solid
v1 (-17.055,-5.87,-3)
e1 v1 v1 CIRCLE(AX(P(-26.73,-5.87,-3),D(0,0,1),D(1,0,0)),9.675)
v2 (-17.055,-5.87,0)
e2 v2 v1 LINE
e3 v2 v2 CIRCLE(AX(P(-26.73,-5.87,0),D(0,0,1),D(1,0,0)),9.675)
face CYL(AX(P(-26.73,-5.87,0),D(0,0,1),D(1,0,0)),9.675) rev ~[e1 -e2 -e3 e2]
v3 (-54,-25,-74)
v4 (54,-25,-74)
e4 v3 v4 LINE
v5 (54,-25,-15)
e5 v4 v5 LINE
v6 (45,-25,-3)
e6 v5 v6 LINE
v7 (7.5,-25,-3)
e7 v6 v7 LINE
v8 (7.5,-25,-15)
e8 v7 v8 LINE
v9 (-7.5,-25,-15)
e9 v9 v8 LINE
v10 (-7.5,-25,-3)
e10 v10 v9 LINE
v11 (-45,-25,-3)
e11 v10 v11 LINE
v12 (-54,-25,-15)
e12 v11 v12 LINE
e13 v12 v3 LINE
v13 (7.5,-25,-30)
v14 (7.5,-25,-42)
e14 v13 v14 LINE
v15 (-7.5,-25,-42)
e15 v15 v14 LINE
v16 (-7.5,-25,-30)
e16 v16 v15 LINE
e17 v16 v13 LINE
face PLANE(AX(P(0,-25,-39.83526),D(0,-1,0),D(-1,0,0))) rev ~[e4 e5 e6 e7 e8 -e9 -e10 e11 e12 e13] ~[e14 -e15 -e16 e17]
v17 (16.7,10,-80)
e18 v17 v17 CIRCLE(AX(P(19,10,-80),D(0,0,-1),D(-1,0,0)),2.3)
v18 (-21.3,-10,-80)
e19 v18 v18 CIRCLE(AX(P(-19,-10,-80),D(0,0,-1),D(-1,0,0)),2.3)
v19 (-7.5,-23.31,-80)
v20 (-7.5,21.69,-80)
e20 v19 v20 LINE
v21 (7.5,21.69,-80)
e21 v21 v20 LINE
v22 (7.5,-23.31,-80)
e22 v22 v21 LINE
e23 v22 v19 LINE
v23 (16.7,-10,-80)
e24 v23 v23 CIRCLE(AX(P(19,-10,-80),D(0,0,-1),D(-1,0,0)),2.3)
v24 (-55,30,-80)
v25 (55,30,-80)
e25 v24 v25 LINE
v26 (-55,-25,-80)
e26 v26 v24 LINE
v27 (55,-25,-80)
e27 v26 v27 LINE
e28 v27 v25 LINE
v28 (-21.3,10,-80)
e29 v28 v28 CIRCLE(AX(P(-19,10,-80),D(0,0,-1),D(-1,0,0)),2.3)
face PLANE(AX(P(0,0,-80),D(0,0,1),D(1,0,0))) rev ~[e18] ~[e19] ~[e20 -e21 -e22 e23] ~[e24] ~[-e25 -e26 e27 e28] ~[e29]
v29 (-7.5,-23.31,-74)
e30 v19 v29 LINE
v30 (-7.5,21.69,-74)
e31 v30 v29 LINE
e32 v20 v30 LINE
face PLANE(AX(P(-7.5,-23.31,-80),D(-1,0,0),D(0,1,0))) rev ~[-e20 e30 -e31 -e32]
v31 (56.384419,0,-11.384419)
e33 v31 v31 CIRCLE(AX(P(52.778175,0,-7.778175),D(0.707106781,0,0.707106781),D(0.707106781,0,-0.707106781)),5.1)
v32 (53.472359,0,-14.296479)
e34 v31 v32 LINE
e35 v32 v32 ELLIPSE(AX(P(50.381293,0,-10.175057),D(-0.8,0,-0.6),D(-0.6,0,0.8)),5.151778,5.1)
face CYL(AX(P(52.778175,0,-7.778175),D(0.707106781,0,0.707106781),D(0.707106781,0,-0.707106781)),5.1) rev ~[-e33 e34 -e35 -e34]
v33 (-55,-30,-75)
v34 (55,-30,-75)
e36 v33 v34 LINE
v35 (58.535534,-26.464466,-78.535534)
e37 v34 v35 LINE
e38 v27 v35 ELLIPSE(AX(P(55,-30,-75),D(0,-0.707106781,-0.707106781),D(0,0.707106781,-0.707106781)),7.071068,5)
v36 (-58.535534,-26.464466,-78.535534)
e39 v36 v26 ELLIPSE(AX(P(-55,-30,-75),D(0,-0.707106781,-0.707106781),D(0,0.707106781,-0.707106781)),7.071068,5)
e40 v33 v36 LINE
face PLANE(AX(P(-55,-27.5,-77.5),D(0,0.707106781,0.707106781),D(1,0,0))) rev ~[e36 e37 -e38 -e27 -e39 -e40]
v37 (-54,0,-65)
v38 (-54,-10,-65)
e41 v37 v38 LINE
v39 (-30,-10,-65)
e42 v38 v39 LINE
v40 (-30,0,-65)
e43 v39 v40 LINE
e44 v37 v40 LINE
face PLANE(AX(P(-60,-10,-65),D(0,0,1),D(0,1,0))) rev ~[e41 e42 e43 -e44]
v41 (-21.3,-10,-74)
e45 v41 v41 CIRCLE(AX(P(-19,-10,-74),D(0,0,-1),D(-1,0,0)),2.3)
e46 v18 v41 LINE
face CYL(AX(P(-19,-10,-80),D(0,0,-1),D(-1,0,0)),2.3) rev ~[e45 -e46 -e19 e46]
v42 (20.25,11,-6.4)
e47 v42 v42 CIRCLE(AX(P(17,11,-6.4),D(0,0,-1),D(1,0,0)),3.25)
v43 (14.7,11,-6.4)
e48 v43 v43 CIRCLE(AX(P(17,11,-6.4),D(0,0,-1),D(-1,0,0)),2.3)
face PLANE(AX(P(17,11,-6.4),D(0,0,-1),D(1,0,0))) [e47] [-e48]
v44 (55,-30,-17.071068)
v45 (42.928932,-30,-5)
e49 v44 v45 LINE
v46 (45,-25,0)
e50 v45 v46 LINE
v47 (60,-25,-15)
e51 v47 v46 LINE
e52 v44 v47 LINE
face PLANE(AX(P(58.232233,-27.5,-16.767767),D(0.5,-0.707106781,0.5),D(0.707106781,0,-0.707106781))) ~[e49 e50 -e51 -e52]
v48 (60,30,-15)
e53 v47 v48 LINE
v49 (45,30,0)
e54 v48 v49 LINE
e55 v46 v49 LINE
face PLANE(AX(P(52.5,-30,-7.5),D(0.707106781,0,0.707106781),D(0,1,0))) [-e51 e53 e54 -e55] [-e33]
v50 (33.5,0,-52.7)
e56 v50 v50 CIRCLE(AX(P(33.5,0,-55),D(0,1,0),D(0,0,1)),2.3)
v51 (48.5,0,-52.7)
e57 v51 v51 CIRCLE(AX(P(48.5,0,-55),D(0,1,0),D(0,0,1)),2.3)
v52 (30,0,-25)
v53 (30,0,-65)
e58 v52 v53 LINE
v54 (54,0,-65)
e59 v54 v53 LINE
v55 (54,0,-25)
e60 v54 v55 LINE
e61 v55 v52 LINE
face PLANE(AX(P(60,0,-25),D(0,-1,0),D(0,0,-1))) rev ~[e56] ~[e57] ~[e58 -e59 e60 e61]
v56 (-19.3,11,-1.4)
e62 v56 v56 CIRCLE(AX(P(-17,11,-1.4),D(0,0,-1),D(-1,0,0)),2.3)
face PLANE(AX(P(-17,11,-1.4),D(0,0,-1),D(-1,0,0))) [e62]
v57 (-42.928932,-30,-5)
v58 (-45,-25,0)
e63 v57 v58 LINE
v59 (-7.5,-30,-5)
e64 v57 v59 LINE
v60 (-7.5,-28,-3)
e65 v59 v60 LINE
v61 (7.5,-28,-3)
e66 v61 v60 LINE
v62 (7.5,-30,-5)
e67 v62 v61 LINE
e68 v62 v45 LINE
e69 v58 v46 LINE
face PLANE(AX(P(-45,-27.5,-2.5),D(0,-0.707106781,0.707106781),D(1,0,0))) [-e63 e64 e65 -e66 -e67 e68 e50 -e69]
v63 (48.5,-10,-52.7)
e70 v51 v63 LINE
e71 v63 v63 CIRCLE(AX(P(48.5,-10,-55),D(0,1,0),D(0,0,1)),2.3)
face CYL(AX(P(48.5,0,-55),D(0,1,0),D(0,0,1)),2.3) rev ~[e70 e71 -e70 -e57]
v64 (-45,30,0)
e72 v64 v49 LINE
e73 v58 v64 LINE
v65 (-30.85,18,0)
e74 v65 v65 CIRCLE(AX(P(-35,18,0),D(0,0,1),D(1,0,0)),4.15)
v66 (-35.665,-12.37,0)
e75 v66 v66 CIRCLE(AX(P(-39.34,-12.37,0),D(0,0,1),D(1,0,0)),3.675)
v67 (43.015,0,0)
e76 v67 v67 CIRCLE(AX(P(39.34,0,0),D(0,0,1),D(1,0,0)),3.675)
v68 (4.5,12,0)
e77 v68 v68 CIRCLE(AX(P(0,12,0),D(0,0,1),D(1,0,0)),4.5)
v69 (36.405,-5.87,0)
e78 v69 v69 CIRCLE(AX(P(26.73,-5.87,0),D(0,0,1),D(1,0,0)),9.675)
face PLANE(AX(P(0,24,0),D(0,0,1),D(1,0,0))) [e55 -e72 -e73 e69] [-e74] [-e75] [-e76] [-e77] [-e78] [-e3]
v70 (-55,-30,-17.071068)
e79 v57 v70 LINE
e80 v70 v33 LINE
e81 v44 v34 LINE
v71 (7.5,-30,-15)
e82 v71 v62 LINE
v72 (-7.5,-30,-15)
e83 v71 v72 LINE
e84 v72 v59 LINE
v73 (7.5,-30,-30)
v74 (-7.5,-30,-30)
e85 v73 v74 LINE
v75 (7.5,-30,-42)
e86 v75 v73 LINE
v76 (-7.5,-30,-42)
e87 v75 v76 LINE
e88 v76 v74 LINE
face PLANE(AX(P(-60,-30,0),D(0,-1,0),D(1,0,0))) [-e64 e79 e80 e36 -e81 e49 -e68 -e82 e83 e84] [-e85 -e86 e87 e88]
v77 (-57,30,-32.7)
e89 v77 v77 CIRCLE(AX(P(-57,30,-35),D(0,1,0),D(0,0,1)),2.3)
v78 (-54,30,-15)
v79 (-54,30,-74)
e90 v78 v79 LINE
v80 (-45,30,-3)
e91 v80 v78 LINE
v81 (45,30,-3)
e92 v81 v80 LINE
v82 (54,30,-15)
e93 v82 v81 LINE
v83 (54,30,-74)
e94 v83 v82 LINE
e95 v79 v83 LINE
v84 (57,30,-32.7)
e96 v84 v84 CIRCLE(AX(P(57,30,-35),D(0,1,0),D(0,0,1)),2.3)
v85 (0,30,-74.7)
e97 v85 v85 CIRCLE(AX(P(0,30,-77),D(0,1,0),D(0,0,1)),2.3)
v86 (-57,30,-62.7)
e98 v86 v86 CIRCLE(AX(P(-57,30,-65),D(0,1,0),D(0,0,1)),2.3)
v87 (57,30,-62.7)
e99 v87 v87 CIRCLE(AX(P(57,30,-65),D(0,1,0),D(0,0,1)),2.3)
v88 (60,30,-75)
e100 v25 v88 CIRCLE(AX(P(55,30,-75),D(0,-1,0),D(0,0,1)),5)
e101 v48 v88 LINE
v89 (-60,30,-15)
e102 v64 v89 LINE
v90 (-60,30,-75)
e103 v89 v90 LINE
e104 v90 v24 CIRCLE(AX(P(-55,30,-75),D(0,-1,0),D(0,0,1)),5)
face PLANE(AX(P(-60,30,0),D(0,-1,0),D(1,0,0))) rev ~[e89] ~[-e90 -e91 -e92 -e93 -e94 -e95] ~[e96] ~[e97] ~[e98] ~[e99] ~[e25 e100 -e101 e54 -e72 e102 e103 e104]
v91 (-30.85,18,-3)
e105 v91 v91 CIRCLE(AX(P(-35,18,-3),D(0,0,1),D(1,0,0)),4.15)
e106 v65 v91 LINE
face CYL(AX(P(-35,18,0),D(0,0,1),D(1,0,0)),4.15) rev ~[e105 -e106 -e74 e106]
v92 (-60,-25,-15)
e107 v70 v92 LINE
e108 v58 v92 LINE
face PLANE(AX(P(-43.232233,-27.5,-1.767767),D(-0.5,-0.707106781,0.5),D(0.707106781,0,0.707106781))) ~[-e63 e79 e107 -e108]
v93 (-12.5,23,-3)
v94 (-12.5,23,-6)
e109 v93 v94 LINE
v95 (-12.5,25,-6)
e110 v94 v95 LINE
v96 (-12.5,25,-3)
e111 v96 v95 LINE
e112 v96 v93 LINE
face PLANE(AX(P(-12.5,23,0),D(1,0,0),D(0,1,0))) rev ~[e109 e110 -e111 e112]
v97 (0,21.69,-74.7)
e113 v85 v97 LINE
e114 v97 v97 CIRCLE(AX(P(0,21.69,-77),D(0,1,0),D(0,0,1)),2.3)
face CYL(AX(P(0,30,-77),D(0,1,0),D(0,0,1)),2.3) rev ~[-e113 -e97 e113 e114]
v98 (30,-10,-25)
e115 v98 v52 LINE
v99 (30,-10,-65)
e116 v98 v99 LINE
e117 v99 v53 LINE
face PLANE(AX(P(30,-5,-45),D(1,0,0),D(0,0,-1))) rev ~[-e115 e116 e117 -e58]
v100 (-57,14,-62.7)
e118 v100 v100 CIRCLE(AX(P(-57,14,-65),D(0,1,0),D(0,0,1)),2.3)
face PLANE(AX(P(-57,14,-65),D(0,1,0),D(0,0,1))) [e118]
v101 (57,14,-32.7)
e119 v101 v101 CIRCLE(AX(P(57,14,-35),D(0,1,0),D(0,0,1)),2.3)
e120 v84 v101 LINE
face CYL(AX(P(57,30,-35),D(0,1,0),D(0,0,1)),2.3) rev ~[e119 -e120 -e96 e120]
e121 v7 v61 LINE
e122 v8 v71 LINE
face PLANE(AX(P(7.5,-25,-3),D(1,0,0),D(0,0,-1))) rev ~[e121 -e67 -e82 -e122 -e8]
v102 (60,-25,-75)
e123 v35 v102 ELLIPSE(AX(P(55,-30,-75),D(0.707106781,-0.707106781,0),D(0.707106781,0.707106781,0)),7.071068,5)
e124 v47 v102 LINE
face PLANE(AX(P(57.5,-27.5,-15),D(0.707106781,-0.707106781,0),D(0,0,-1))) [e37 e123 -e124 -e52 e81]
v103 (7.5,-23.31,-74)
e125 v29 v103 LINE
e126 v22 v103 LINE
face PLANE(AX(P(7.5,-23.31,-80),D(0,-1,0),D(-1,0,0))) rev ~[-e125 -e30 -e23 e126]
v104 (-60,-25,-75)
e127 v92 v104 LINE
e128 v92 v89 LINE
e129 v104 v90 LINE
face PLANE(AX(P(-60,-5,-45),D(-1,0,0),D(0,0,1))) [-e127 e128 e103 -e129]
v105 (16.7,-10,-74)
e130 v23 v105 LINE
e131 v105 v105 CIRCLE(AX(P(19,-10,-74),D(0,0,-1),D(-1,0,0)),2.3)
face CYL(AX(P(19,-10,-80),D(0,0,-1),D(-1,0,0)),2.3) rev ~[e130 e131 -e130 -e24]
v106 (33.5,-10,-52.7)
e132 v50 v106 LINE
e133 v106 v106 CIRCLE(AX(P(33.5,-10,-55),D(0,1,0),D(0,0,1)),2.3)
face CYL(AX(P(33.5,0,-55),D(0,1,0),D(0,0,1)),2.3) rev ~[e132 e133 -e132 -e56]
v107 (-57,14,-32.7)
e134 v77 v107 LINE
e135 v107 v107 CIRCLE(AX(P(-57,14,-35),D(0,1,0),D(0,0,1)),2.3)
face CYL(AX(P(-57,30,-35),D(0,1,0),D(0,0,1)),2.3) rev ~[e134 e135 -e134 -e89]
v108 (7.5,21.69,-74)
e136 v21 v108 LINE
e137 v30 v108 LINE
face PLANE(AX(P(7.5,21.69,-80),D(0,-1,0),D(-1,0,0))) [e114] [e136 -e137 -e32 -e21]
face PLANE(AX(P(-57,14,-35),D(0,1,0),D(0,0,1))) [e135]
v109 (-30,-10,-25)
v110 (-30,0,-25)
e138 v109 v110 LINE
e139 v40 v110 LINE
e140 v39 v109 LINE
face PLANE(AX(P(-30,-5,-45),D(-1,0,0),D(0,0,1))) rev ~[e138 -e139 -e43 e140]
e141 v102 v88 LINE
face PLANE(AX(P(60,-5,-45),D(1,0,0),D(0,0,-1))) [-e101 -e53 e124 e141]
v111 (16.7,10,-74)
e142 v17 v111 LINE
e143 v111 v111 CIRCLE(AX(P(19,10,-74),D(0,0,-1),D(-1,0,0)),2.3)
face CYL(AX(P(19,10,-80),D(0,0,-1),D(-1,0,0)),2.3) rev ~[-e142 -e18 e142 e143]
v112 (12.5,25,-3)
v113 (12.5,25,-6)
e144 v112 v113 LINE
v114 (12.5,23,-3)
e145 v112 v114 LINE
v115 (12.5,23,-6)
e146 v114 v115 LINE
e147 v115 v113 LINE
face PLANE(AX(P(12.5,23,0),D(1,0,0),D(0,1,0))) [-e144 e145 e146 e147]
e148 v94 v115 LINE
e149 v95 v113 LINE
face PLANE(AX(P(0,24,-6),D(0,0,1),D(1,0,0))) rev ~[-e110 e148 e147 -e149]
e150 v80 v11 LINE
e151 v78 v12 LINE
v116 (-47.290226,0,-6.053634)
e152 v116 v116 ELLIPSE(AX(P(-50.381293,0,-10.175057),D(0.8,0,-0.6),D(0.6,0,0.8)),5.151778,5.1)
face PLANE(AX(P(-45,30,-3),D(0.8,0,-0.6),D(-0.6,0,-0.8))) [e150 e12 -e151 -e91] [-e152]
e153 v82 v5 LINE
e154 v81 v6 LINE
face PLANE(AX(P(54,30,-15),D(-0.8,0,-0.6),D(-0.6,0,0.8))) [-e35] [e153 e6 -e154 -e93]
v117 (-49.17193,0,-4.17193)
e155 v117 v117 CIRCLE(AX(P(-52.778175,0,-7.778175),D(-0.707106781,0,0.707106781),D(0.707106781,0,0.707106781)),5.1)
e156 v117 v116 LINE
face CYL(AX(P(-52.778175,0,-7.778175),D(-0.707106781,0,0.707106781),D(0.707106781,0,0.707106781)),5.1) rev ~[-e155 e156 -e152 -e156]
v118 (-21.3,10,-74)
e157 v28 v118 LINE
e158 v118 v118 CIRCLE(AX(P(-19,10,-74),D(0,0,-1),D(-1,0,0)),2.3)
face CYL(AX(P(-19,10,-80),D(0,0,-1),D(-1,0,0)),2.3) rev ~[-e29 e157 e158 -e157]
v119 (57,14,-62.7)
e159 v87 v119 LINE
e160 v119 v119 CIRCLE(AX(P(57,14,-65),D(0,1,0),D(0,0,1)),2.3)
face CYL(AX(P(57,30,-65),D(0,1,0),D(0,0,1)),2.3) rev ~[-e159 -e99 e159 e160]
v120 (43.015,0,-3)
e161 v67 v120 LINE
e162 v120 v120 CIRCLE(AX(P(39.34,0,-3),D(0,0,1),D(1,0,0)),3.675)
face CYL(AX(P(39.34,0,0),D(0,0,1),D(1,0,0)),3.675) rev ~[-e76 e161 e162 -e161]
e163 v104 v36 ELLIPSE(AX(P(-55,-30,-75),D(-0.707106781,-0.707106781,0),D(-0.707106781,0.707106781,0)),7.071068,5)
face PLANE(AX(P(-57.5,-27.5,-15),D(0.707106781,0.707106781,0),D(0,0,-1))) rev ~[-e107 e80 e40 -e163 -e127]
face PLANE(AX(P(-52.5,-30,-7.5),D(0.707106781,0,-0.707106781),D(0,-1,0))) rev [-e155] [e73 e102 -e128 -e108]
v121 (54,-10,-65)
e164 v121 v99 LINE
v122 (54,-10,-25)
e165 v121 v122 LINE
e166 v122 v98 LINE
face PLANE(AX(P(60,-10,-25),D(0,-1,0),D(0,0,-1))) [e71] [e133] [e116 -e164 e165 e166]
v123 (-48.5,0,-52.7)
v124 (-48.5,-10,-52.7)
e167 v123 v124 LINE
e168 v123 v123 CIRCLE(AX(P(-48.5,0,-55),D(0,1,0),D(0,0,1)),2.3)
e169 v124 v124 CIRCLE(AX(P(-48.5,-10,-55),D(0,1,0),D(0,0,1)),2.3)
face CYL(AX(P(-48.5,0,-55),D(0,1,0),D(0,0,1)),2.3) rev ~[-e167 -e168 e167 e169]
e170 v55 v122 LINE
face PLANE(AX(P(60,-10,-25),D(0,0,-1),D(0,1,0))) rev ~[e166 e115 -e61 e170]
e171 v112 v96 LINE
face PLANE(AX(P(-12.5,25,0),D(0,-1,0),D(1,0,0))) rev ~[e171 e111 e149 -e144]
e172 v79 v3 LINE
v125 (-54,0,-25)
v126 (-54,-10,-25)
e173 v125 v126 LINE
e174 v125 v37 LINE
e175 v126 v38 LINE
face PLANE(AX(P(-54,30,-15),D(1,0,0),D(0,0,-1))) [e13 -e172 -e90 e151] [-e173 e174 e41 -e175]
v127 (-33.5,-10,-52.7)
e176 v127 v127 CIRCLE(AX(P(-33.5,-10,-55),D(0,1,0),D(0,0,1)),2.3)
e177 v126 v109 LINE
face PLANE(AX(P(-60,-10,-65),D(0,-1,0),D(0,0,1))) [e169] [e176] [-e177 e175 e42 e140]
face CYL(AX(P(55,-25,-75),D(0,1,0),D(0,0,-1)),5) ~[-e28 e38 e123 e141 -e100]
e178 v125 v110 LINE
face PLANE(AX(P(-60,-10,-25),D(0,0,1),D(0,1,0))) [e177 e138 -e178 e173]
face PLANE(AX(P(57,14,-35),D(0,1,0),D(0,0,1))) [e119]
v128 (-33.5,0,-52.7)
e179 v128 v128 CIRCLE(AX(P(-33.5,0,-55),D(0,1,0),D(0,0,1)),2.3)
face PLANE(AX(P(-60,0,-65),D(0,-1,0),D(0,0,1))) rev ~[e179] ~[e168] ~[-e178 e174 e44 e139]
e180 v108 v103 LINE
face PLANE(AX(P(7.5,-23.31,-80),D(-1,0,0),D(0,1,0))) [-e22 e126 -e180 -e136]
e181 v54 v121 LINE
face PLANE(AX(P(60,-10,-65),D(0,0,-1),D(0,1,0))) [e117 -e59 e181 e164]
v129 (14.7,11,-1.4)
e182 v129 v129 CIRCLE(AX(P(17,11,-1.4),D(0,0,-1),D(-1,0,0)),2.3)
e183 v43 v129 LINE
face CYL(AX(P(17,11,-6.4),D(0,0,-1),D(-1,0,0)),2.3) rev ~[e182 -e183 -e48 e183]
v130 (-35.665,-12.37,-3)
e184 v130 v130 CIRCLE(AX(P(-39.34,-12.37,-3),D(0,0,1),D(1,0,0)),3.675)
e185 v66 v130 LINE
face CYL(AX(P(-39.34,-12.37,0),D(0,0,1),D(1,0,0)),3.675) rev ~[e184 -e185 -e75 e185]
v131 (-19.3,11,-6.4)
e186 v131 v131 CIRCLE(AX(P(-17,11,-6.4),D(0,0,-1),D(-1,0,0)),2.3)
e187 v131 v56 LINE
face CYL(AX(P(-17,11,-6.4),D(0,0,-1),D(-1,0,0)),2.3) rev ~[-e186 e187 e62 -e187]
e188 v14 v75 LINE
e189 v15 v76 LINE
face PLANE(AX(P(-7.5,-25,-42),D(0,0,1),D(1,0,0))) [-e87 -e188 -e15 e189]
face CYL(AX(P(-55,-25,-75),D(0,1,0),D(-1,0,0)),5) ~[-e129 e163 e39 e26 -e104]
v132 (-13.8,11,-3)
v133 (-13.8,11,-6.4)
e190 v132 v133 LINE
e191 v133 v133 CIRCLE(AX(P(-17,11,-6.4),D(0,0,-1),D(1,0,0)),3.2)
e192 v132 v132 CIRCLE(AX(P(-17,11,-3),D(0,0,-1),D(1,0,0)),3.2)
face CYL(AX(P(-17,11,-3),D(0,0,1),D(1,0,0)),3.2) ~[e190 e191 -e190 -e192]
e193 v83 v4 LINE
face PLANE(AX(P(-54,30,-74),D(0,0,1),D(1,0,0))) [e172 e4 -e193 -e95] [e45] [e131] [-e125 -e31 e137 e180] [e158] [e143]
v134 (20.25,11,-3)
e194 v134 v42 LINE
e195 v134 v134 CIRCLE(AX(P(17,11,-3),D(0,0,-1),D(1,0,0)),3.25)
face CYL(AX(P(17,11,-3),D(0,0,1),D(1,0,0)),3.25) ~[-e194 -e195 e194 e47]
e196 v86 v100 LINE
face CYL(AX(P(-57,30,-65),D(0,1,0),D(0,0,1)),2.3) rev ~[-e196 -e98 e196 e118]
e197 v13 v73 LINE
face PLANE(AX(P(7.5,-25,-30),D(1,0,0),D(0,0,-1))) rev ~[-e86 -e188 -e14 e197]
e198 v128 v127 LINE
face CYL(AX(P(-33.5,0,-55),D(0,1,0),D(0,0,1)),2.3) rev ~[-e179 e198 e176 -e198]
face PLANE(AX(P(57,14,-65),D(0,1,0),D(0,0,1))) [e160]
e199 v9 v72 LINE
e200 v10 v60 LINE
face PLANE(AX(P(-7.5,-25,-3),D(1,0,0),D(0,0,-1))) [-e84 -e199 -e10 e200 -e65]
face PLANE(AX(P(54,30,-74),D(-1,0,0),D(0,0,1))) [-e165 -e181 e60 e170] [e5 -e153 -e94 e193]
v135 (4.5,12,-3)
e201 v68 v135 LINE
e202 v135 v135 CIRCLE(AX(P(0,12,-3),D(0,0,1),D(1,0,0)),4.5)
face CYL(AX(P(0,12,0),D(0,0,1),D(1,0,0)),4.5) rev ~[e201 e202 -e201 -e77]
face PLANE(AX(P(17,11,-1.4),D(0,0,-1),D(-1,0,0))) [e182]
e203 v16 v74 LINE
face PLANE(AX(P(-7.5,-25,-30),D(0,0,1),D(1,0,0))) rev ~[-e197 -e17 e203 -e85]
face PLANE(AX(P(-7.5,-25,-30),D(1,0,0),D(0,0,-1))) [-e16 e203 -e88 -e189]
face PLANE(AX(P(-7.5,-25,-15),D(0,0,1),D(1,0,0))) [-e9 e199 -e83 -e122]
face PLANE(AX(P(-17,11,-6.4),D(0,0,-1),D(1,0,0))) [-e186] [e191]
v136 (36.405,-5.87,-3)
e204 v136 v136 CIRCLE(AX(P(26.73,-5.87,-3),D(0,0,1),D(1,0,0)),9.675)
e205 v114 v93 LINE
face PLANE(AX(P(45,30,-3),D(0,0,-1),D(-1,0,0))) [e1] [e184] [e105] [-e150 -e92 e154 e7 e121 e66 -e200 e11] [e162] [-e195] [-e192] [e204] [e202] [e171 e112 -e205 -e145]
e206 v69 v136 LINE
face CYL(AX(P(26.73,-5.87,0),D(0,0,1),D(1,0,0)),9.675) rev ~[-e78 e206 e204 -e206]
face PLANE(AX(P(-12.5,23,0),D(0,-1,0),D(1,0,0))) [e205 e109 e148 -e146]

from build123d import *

# Parameters (mm, degrees)
ESQUISSE1_W              = 120
ESQUISSE1_H              = 60
BOSS_EXTRU_1_DEPTH       = 80
CHANFREIN1_SIZE          = 15
CHANFREIN2_SIZE          = 15
ENL_V_MAT_EXTRU_1_DEPTH  = 55
ESQUISSE3_R              = 4.5
ESQUISSE3_R_2            = 4.15
ESQUISSE3_R_3            = 9.675
ESQUISSE3_R_4            = 3.675
ENL_V_MAT_EXTRU_2_DEPTH  = 10
ESQUISSE4_R              = 5.1
ENL_V_MAT_EXTRU_3_DEPTH  = 10
ESQUISSE5_R              = 5.1
ENL_V_MAT_EXTRU_4_DEPTH  = 10
CHANFREIN3_SIZE          = 5
ESQUISSE7_W              = 15
ESQUISSE7_H              = 45
ENL_V_MAT_EXTRU_5_DEPTH  = 15
CHANFREIN5_SIZE          = 5
ESQUISSE8_W              = 25
ESQUISSE8_H              = 2
BOSS_EXTRU_2_DEPTH       = 6
ESQUISSE10_W             = 40
ESQUISSE10_H             = 10
BOSS_EXTRU_4_DEPTH       = 30
ESQUISSE11_W             = 40
ESQUISSE11_H             = 10
BOSS_EXTRU_5_DEPTH       = 30
ESQUISSE12_R             = 2.3
ENL_V_MAT_EXTRU_7_DEPTH  = 15
ESQUISSE13_R             = 2.3
ENL_V_MAT_EXTRU_8_DEPTH  = 16
ESQUISSE14_R             = 2.3
ENL_V_MAT_EXTRU_9_DEPTH  = 10
ESQUISSE15_R             = 3.2
ESQUISSE15_R_2           = 3.25
BOSS_EXTRU_6_DEPTH       = 3.4
ESQUISSE16_R             = 2.3
ENL_V_MAT_EXTRU_10_DEPTH = 5
ESQUISSE18_W             = 15
ESQUISSE18_H             = 12
ENL_V_MAT_EXTRU_13_DEPTH = 9
CONG_1_R                 = 5


with BuildPart() as part:
    # Esquisse1 → Boss.-Extru.1 (new body)
    with BuildSketch(Plane.XY):
        Rectangle(ESQUISSE1_W, ESQUISSE1_H)
    extrude(amount=-BOSS_EXTRU_1_DEPTH)

    # Chanfrein1
    chanfrein1_edges = [part.edges().sort_by_distance(p)[0] for p in [
        (60, 0, 0),
    ]]
    chamfer(chanfrein1_edges, length=CHANFREIN1_SIZE)

    # Chanfrein2
    chanfrein2_edges = [part.edges().sort_by_distance(p)[0] for p in [
        (-60, 0, 0),
    ]]
    chamfer(chanfrein2_edges, length=CHANFREIN2_SIZE)

    # Esquisse2 → Enlèv. mat.-Extru.1 (cut)
    with BuildSketch(Plane(origin=(0, 30, 0), x_dir=(1, 0, 0), z_dir=(0, 1, 0))):
        Polygon((-54, 15), (-54, 74), (54, 74), (54, 15), (45, 3), (-45, 3), align=None)
    extrude(amount=-ENL_V_MAT_EXTRU_1_DEPTH, mode=Mode.SUBTRACT)

    # Esquisse3 → Enlèv. mat.-Extru.2 (cut)
    with BuildSketch(Plane.XY):
        with Locations((0, 12)):
            Circle(ESQUISSE3_R)
        with Locations((-35, 18)):
            Circle(ESQUISSE3_R_2)
        with Locations((26.73, -5.87)):
            Circle(ESQUISSE3_R_3)
        with Locations((-26.73, -5.87)):
            Circle(ESQUISSE3_R_3)
        with Locations((39.34, 0)):
            Circle(ESQUISSE3_R_4)
        with Locations((-39.34, -12.37)):
            Circle(ESQUISSE3_R_4)
    extrude(amount=-ENL_V_MAT_EXTRU_2_DEPTH, mode=Mode.SUBTRACT)

    # Esquisse4 → Enlèv. mat.-Extru.3 (cut)
    with BuildSketch(Plane(origin=(22.5, 0, 22.5), x_dir=(0.7071067811865464, 0, -0.7071067811865488), z_dir=(0.7071067811865488, 0, 0.7071067811865464))):
        with Locations((42.819805153, 0)):
            Circle(ESQUISSE4_R)
    extrude(amount=-ENL_V_MAT_EXTRU_3_DEPTH, mode=Mode.SUBTRACT)

    # Esquisse5 → Enlèv. mat.-Extru.4 (cut)
    with BuildSketch(Plane(origin=(-22.5, 0, 22.5), x_dir=(0.7071067811865464, 0, 0.7071067811865488), z_dir=(-0.7071067811865488, 0, 0.7071067811865464))):
        with Locations((-42.819805153, 0)):
            Circle(ESQUISSE5_R)
    extrude(amount=-ENL_V_MAT_EXTRU_4_DEPTH, mode=Mode.SUBTRACT)

    # Chanfrein3
    chanfrein3_edges = [part.edges().sort_by_distance(p)[0] for p in [
        (52.5, -30, -7.5),
        (0, -30, 0),
        (-52.5, -30, -7.5),
        (60, -30, -47.5),
        (-60, -30, -47.5),
    ]]
    chamfer(chanfrein3_edges, length=CHANFREIN3_SIZE)

    # Esquisse7 → Enlèv. mat.-Extru.5 (cut)
    with BuildSketch(Plane(origin=(0, 0, -80), x_dir=(-1, 0, 0), z_dir=(0, 0, -1))):
        with Locations((0, -0.81)):
            Rectangle(ESQUISSE7_W, ESQUISSE7_H)
    extrude(amount=-ENL_V_MAT_EXTRU_5_DEPTH, mode=Mode.SUBTRACT)

    # Chanfrein5
    chanfrein5_edges = [part.edges().sort_by_distance(p)[0] for p in [
        (0, -30, -80),
    ]]
    chamfer(chanfrein5_edges, length=CHANFREIN5_SIZE)

    # Esquisse8 → Boss.-Extru.2 (add)
    with BuildSketch(Plane.XY):
        with Locations((0, 24)):
            Rectangle(ESQUISSE8_W, ESQUISSE8_H)
    extrude(amount=-BOSS_EXTRU_2_DEPTH)

    # Esquisse10 → Boss.-Extru.4 (add)
    with BuildSketch(Plane(origin=(60, 0, 0), x_dir=(0, 0, -1), z_dir=(1, 0, 0))):
        with Locations((45, -5)):
            Rectangle(ESQUISSE10_W, ESQUISSE10_H)
    extrude(amount=-BOSS_EXTRU_4_DEPTH)

    # Esquisse11 → Boss.-Extru.5 (add)
    with BuildSketch(Plane.ZY.offset(60)):
        with Locations((-45, -5)):
            Rectangle(ESQUISSE11_W, ESQUISSE11_H)
    extrude(amount=-BOSS_EXTRU_5_DEPTH)

    # Esquisse12 → Enlèv. mat.-Extru.7 (cut)
    with BuildSketch(Plane(origin=(0, 0, 0), x_dir=(1, 0, 0), z_dir=(0, 1, 0))):
        with Locations(Location((33.5, 55, 0), (0, 0, 270))):
            Circle(ESQUISSE12_R)
        with Locations(Location((48.5, 55, 0), (0, 0, 270))):
            Circle(ESQUISSE12_R)
        with Locations(Location((-33.5, 55, 0), (0, 0, 270))):
            Circle(ESQUISSE12_R)
        with Locations(Location((-48.5, 55, 0), (0, 0, 270))):
            Circle(ESQUISSE12_R)
    extrude(amount=-ENL_V_MAT_EXTRU_7_DEPTH, mode=Mode.SUBTRACT)

    # Esquisse13 → Enlèv. mat.-Extru.8 (cut)
    with BuildSketch(Plane(origin=(0, 30, 0), x_dir=(1, 0, 0), z_dir=(0, 1, 0))):
        with Locations(Location((-57, 65, 0), (0, 0, 270))):
            Circle(ESQUISSE13_R)
        with Locations(Location((-57, 35, 0), (0, 0, 270))):
            Circle(ESQUISSE13_R)
        with Locations(Location((57, 65, 0), (0, 0, 270))):
            Circle(ESQUISSE13_R)
        with Locations(Location((57, 35, 0), (0, 0, 270))):
            Circle(ESQUISSE13_R)
        with Locations(Location((0, 77, 0), (0, 0, 270))):
            Circle(ESQUISSE13_R)
    extrude(amount=-ENL_V_MAT_EXTRU_8_DEPTH, mode=Mode.SUBTRACT)

    # Esquisse14 → Enlèv. mat.-Extru.9 (cut)
    with BuildSketch(Plane(origin=(0, 0, -80), x_dir=(-1, 0, 0), z_dir=(0, 0, -1))):
        with Locations((19, 10)):
            Circle(ESQUISSE14_R)
        with Locations((19, -10)):
            Circle(ESQUISSE14_R)
        with Locations((-19, -10)):
            Circle(ESQUISSE14_R)
        with Locations((-19, 10)):
            Circle(ESQUISSE14_R)
    extrude(amount=-ENL_V_MAT_EXTRU_9_DEPTH, mode=Mode.SUBTRACT)

    # Esquisse15 → Boss.-Extru.6 (add)
    with BuildSketch(Plane(origin=(0, 0, -3), x_dir=(-1, 0, 0), z_dir=(0, 0, -1))):
        with Locations(Location((17, 11, 0), (0, 0, 180))):
            Circle(ESQUISSE15_R)
        with Locations(Location((-17, 11, 0), (0, 0, 180))):
            Circle(ESQUISSE15_R_2)
    extrude(amount=BOSS_EXTRU_6_DEPTH)

    # Esquisse16 → Enlèv. mat.-Extru.10 (cut)
    with BuildSketch(Plane(origin=(0, 0, -6.4), x_dir=(-1, 0, 0), z_dir=(0, 0, -1))):
        with Locations((17, 11)):
            Circle(ESQUISSE16_R)
        with Locations((-17, 11)):
            Circle(ESQUISSE16_R)
    extrude(amount=-ENL_V_MAT_EXTRU_10_DEPTH, mode=Mode.SUBTRACT)

    # Esquisse18 → Enlèv. mat.-Extru.13 (cut)
    with BuildSketch(Plane(origin=(0, -25, 0), x_dir=(1, 0, 0), z_dir=(0, 1, 0))):
        with Locations((0, 9)):
            Rectangle(ESQUISSE18_W, ESQUISSE18_H)
        with Locations((0, 36)):
            Rectangle(ESQUISSE18_W, ESQUISSE18_H)
    extrude(amount=-ENL_V_MAT_EXTRU_13_DEPTH, mode=Mode.SUBTRACT)

    # Congé1
    cong_1_edges = [part.edges().sort_by_distance(p)[0] for p in [
        (-60, 2.5, -80),
        (60, 2.5, -80),
    ]]
    fillet(cong_1_edges, radius=CONG_1_R)


solid = part.part
